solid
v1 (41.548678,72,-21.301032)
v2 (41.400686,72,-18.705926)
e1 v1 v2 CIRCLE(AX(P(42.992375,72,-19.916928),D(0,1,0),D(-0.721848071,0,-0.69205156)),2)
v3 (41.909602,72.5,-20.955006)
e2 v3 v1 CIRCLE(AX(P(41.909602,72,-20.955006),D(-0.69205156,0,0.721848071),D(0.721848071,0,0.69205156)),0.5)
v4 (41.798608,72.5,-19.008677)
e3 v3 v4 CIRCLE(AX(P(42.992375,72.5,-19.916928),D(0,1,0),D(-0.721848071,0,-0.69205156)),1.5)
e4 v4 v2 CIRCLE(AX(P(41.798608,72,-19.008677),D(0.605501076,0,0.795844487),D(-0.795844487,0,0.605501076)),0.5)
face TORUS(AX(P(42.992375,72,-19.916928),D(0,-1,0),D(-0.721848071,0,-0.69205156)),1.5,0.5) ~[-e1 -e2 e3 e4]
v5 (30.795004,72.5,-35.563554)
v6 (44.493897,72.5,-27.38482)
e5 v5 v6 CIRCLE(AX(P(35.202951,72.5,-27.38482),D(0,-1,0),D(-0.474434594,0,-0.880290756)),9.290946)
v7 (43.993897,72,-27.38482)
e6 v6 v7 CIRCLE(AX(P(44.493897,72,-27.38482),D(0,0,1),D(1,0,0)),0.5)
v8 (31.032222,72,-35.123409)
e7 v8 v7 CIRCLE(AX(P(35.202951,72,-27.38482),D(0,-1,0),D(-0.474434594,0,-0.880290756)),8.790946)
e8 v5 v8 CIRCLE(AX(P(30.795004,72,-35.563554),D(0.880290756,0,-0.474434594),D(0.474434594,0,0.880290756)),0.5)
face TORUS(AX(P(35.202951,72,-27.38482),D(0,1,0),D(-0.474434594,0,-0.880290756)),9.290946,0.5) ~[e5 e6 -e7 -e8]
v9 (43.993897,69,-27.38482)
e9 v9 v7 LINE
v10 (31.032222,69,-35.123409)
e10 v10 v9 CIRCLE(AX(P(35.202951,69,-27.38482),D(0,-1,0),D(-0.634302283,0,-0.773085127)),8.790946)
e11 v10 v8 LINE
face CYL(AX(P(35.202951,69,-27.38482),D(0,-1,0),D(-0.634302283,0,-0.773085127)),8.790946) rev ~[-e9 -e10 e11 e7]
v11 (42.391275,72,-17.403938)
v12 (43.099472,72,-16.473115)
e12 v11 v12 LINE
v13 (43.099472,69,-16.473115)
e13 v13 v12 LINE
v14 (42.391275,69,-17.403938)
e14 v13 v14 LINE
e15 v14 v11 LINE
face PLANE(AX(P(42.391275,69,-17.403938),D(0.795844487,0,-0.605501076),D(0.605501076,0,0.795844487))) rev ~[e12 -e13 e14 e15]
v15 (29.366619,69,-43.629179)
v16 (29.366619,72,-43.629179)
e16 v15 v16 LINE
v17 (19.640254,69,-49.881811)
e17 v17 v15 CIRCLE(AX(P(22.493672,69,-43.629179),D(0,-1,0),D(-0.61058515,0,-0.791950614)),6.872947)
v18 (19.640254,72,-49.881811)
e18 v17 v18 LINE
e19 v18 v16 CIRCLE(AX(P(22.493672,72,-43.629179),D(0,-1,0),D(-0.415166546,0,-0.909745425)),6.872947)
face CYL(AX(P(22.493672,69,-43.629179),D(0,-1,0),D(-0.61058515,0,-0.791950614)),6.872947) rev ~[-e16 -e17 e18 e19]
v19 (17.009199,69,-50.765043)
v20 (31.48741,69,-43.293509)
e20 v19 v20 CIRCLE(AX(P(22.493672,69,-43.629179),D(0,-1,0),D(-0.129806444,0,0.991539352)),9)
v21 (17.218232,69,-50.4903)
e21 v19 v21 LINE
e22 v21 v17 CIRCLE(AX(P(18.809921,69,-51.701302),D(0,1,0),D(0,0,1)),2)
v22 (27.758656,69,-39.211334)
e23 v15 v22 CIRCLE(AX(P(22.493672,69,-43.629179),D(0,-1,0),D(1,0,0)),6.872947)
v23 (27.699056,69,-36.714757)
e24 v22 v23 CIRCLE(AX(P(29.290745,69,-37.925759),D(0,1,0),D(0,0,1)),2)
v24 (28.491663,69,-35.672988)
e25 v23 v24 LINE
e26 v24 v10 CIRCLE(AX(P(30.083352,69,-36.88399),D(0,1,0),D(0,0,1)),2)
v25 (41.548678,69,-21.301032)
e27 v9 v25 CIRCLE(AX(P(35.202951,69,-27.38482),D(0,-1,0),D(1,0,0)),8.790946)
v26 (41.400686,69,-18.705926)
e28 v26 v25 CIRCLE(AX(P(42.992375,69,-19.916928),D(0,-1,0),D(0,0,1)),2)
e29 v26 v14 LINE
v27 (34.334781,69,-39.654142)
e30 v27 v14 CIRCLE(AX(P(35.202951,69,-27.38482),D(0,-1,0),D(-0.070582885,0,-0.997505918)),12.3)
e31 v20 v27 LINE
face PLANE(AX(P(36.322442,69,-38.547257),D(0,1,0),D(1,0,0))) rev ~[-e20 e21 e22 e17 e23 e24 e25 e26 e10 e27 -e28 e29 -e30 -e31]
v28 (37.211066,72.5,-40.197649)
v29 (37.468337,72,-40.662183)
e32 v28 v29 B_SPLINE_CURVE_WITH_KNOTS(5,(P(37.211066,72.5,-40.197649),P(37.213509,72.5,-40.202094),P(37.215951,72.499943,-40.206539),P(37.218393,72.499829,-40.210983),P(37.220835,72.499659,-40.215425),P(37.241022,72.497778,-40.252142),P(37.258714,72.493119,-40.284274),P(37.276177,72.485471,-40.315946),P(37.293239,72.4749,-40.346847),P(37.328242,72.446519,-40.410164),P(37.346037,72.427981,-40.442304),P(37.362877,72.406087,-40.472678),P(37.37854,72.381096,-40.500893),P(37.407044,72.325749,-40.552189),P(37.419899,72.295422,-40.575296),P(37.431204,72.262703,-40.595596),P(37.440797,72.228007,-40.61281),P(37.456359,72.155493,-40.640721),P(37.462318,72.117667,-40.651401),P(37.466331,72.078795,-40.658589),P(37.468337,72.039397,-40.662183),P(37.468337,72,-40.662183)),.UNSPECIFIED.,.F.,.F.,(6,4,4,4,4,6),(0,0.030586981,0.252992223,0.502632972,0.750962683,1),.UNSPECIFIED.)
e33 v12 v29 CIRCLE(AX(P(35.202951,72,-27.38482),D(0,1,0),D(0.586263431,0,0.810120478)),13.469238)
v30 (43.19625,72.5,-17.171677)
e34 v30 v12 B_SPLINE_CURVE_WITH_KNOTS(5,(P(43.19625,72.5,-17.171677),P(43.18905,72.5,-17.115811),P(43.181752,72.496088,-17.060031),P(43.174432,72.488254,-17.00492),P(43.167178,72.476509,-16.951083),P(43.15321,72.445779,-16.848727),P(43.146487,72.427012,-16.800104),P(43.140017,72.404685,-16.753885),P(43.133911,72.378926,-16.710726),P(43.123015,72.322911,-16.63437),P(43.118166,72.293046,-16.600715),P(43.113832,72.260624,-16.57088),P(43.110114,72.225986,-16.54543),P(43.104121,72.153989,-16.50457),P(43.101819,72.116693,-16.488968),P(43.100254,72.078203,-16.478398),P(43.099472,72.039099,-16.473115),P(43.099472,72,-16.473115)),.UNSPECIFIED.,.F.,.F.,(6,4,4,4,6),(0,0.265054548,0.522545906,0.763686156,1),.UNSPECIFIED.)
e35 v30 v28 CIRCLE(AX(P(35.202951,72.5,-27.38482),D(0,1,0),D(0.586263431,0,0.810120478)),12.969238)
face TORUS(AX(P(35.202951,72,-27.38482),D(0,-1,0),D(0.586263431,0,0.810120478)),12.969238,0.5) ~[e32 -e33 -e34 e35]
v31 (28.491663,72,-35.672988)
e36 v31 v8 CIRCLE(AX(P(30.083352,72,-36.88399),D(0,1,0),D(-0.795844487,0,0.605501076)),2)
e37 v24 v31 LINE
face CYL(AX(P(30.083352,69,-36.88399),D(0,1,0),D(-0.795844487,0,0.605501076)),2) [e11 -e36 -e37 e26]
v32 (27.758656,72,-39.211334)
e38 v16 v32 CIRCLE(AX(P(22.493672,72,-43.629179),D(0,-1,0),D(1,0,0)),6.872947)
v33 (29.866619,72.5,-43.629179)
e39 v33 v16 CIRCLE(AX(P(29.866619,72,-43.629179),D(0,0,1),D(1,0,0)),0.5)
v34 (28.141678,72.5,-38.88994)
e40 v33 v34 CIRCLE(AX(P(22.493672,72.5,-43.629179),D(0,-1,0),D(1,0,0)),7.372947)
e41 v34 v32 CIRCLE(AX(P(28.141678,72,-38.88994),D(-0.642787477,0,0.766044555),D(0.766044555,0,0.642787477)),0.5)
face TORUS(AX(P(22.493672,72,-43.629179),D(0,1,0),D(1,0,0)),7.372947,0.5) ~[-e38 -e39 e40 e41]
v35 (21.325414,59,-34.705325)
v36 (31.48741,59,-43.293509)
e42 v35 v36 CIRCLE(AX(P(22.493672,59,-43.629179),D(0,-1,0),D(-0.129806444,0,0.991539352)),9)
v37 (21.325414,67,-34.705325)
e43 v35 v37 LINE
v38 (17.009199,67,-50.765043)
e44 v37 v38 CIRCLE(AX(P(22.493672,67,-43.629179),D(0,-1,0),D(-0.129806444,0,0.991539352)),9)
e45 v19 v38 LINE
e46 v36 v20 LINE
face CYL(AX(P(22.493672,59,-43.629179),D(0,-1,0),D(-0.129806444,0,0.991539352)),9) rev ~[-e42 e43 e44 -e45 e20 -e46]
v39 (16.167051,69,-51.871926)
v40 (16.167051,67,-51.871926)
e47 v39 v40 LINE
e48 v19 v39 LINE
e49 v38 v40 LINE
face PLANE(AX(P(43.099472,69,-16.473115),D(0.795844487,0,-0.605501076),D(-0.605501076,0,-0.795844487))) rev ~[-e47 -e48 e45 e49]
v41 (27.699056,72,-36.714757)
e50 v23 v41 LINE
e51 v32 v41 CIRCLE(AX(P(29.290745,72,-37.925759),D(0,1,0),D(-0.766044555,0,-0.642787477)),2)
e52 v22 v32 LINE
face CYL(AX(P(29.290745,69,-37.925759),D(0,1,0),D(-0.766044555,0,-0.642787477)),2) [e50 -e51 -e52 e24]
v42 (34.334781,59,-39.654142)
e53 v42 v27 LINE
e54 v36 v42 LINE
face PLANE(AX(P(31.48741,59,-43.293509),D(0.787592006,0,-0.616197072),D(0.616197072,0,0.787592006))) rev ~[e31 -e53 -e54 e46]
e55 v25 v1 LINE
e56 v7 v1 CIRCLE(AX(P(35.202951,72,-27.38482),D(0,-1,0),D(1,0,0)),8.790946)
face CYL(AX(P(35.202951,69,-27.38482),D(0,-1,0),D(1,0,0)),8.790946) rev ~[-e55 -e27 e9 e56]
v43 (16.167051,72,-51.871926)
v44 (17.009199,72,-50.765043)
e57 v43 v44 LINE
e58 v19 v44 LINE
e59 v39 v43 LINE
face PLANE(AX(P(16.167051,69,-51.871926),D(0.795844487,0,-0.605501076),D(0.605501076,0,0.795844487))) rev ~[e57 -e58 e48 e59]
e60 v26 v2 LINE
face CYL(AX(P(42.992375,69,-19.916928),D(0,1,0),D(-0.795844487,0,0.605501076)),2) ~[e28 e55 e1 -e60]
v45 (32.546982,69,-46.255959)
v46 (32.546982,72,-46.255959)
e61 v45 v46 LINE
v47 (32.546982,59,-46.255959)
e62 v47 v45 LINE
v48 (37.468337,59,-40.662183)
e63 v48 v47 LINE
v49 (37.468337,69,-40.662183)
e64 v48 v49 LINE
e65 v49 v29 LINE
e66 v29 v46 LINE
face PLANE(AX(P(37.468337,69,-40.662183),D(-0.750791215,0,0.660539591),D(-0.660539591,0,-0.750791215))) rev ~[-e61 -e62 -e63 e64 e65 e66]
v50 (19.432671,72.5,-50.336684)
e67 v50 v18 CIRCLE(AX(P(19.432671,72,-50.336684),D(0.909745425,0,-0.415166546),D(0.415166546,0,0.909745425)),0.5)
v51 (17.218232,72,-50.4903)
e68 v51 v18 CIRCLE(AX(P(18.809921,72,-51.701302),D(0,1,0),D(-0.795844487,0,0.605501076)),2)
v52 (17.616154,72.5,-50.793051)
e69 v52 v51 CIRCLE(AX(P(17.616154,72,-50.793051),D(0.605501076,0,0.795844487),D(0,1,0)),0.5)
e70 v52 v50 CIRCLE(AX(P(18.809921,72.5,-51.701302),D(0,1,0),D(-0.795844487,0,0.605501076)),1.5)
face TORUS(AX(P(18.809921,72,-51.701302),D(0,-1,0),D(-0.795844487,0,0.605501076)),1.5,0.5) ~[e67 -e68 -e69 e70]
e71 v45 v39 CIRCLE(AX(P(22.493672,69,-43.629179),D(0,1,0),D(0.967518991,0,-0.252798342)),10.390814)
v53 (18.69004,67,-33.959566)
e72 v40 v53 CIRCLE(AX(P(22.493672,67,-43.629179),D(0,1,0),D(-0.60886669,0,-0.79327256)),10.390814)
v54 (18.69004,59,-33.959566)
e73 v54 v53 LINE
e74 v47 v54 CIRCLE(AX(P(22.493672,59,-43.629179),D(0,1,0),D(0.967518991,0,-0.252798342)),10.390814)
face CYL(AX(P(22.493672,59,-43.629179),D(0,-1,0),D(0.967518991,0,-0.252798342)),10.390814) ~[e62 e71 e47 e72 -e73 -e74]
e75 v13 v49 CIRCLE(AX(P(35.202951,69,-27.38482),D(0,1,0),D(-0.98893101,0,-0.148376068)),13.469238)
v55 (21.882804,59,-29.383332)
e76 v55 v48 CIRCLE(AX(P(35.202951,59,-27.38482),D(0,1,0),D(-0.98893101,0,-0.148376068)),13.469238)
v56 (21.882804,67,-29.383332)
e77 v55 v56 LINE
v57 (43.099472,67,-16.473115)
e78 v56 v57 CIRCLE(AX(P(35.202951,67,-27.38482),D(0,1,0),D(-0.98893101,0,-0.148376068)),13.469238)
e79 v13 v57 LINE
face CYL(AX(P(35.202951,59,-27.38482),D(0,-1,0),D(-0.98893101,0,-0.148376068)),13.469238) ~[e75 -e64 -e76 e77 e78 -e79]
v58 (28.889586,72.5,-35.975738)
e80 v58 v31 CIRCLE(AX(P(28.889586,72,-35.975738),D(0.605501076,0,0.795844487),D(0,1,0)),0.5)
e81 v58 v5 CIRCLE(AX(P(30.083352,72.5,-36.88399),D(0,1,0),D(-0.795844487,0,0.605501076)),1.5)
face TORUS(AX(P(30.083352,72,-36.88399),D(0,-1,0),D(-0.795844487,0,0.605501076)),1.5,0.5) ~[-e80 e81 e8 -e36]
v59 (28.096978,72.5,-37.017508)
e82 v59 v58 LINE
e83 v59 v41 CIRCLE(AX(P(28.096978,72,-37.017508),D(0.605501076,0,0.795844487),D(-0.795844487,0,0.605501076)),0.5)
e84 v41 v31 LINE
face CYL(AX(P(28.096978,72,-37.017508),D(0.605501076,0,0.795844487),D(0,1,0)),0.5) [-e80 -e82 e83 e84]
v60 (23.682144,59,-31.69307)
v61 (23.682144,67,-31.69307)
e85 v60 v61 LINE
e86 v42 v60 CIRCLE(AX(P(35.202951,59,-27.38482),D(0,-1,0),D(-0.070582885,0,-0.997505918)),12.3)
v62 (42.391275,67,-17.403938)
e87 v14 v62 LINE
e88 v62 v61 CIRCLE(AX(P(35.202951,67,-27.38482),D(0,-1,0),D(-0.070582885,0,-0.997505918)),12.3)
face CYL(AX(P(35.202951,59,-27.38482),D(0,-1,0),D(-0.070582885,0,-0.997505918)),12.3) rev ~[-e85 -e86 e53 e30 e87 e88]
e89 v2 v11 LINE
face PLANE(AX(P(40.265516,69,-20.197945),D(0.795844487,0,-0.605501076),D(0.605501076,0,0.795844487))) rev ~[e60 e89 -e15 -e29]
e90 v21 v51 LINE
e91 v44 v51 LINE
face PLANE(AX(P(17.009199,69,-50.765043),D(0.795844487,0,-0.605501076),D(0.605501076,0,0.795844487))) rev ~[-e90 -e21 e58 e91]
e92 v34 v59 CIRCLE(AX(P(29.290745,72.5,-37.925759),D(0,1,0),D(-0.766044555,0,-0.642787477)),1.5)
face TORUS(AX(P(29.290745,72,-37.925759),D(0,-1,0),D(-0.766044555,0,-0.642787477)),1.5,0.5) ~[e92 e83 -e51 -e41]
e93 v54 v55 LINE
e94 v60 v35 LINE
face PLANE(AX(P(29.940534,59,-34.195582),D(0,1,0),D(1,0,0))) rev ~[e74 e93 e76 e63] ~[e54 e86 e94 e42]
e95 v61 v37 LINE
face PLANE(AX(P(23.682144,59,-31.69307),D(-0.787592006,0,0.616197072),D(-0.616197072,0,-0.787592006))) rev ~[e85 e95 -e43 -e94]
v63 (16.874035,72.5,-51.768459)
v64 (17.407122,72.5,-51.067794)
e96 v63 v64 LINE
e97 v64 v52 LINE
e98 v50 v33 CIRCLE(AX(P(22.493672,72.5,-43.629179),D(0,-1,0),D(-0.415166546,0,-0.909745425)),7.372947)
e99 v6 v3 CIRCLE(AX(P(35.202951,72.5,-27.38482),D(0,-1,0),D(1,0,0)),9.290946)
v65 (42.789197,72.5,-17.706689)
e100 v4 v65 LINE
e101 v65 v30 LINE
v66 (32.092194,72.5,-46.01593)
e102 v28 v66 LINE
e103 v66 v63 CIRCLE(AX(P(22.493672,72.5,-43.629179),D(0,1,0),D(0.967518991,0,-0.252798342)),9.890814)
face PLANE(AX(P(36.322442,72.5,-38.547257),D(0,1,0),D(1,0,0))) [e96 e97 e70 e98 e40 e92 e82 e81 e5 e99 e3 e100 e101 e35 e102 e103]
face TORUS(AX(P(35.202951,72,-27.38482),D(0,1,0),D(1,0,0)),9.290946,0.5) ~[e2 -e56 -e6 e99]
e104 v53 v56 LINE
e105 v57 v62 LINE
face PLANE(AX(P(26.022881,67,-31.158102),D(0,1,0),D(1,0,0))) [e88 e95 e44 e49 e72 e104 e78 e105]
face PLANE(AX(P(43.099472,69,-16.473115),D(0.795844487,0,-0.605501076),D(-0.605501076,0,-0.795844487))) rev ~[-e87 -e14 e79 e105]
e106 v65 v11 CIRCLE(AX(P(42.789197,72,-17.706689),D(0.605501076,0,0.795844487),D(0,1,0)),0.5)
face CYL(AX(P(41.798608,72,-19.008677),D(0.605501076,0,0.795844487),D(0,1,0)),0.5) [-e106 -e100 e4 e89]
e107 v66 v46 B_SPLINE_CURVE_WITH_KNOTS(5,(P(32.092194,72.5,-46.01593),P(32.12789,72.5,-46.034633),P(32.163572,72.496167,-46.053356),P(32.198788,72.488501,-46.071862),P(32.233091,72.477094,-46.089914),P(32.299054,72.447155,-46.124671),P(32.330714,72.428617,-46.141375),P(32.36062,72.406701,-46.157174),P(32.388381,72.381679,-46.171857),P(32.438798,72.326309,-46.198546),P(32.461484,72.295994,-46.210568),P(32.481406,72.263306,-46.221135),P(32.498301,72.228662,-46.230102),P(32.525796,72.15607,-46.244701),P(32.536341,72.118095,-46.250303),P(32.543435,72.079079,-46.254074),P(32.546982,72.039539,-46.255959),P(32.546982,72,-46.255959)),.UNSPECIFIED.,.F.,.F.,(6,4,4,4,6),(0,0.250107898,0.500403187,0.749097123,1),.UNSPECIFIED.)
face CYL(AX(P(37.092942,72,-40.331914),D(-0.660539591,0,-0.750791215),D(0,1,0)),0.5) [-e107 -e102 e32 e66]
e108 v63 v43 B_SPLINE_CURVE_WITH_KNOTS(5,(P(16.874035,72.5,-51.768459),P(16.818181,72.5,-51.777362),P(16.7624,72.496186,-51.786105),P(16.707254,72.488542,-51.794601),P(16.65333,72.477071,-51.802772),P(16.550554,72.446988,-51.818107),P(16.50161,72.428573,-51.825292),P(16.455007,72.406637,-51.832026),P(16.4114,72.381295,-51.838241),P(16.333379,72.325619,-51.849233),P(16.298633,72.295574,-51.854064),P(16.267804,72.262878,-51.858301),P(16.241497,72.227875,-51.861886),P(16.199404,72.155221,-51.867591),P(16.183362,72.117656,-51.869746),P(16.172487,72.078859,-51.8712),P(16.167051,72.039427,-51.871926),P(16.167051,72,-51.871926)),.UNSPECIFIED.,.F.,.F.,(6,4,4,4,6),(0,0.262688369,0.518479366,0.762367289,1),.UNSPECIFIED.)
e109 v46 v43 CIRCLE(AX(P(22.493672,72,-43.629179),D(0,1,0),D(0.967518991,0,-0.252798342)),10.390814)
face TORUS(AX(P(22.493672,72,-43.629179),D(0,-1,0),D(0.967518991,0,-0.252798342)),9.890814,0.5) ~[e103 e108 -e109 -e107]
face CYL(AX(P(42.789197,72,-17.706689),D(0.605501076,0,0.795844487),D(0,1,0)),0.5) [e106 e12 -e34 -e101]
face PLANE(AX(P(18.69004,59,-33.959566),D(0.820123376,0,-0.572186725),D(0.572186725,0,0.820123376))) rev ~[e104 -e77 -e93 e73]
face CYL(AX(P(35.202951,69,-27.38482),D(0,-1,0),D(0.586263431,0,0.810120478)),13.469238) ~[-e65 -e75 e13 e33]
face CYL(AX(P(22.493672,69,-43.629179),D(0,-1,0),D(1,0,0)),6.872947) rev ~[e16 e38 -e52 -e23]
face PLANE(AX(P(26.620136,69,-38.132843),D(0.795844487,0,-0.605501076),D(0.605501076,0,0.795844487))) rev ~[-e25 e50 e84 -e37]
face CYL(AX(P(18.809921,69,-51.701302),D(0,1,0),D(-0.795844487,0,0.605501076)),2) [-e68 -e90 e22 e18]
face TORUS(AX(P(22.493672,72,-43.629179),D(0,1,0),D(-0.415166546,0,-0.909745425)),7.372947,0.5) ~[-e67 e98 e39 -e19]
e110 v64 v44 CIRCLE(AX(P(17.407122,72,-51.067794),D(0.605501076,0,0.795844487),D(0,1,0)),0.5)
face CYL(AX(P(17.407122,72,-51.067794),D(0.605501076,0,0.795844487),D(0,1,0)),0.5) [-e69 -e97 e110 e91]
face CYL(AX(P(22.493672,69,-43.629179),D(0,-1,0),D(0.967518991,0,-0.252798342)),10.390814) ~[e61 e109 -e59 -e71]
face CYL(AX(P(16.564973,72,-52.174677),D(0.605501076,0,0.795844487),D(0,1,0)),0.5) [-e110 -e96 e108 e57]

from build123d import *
from build123d.topology import SkipClean

# Parameters (mm, degrees)
SKETCH1_R                      = 12.3
SKETCH1_R_2                    = 11.45
SKETCH1_R_3                    = 9
SKETCH1_R_4                    = 8.15
BOSS_EXTRUDE4_DEPTH            = 59
SKETCH1_8_R                    = 5
BOSS_EXTRUDE17_DEPTH           = 10
BOSS_EXTRUDE17_DRAFT           = 1
BOSS_EXTRUDE17_PROFILE_2_DEPTH = 10
BOSS_EXTRUDE17_PROFILE_2_DRAFT = 1
BOSS_EXTRUDE19_DEPTH           = 59
SKETCH17_R                     = 11.45
SKETCH17_R_2                   = 8.15
BOSS_EXTRUDE20_DEPTH           = 3
SKETCH19_R                     = 3.2
CUT_EXTRUDE5_DEPTH             = 10
BOSS_EXTRUDE21_DEPTH           = 10
CUT_EXTRUDE8_DEPTH             = 66
CUT_EXTRUDE9_DEPTH             = 2
BOSS_EXTRUDE24_DEPTH           = 3.5
FILLET1_R                      = 2
FILLET2_R                      = 0.5


with BuildPart() as part:
    # Sketch1 → Boss-Extrude4 (new body)
    # profile 1 of 2: a face of its own
    with BuildSketch(Plane(origin=(0, 0, 0), x_dir=(1, 0, 0), z_dir=(0, 1, 0))):
        with Locations((35.202950653, 27.384819692)):
            Circle(SKETCH1_R)
        with Locations(Location((35.202950653, 27.384819692, 0), (0, 0, 270))):
            Circle(SKETCH1_R_2, mode=Mode.SUBTRACT)
    # profile 2 of 2: a face of its own
    with BuildSketch(Plane(origin=(0, 0, 0), x_dir=(1, 0, 0), z_dir=(0, 1, 0))):
        with Locations((22.493671705, 43.629178782)):
            Circle(SKETCH1_R_3)
        with Locations(Location((22.493671705, 43.629178782, 0), (0, 0, 270))):
            Circle(SKETCH1_R_4, mode=Mode.SUBTRACT)
    extrude(amount=BOSS_EXTRUDE4_DEPTH)

    # Sketch12 → Boss-Extrude19 (add)
    with SkipClean():  # the faces are left unmerged after this step: merging them gives an invalid solid
        with BuildSketch(Plane(origin=(0, 0, 0), x_dir=(-1, 0, 0), z_dir=(0, -1, 0))):
            with BuildLine():
                Line((-34.977539895, 38.8326007), (-30.605091655, 44.421243424))
                ThreePointArc((-30.605091655, 44.421243424), (-27.821958355, 37.462181021), (-20.532623065, 35.718629608))
                Line((-20.532623065, 35.718629608), (-24.304935413, 30.897050301))
                ThreePointArc((-24.304935413, 30.897050301), (-28.370974986, 36.573215009), (-34.977539895, 38.8326007))
            make_face()
        extrude(amount=-BOSS_EXTRUDE19_DEPTH)



with BuildPart() as body_2:
    # Sketch1<8> → Boss-Extrude17 (with draft: the straight prism first)
    with BuildSketch(Plane(origin=(0, 0, 0), x_dir=(1, 0, 0), z_dir=(0, 1, 0))):
        with Locations((22.493671705, 43.629178782)):
            Circle(SKETCH1_8_R)
    extrude(amount=BOSS_EXTRUDE17_DEPTH)
    # Boss-Extrude17: the draft: its side faces are tilted about the plane it starts from
    boss_extrude17_sides = [body_2.faces().sort_by_distance(p)[0] for p in [
        (17.493671705, 5, -43.629178782),
    ]]
    draft(boss_extrude17_sides, Plane(origin=(0, 0, 0), x_dir=(1, 0, 0), z_dir=(0, 1, 0)), BOSS_EXTRUDE17_DRAFT)


with BuildPart() as body_3:
    # Sketch1<8> → Boss-Extrude17 profile 2 (with draft: the straight prism first)
    with BuildSketch(Plane(origin=(0, 0, 0), x_dir=(1, 0, 0), z_dir=(0, 1, 0))):
        with Locations((35.202950653, 27.384819692)):
            Circle(SKETCH1_8_R)
    extrude(amount=BOSS_EXTRUDE17_PROFILE_2_DEPTH)
    # Boss-Extrude17 profile 2: the draft: its side faces are tilted about the plane it starts from
    boss_extrude17_profile_2_sides = [body_3.faces().sort_by_distance(p)[0] for p in [
        (30.202950653, 5, -27.384819692),
    ]]
    draft(boss_extrude17_profile_2_sides, Plane(origin=(0, 0, 0), x_dir=(1, 0, 0), z_dir=(0, 1, 0)), BOSS_EXTRUDE17_PROFILE_2_DRAFT)


with BuildPart() as part_1:
    with SkipClean():  # the faces are left unmerged after this step: merging them gives an invalid solid
        add(part.part)

        add(body_2.part)  # Boss-Extrude20 merges body 2

        add(body_3.part)  # Boss-Extrude20 merges body 3
        # Sketch17 → Boss-Extrude20 (add)
        with BuildSketch(Plane.XZ):
            with Locations(Location((35.202950653, -27.384819692, 0), (0, 0, 270))):
                Circle(SKETCH17_R)
            with Locations(Location((22.493671705, -43.629178782, 0), (0, 0, 270))):
                Circle(SKETCH17_R_2)
        extrude(amount=-BOSS_EXTRUDE20_DEPTH)

    # Sketch19 → Cut-Extrude5 (cut)
    with SkipClean():  # the faces are left unmerged after this step: merging them gives an invalid solid
        with BuildSketch(Plane(origin=(0, 0, 0), x_dir=(-1, 0, 0), z_dir=(0, -1, 0))):
            with Locations(Location((-35.202950653, 27.384819692, 0), (0, 0, 90))):
                Circle(SKETCH19_R)
            with Locations(Location((-22.493671705, 43.629178782, 0), (0, 0, 90))):
                Circle(SKETCH19_R)
        extrude(amount=-CUT_EXTRUDE5_DEPTH, mode=Mode.SUBTRACT)

    # Sketch35 → Cut-Extrude8 (cut)
    with BuildSketch(Plane.XZ):
        with BuildLine():
            Line((21.325413706, -34.705324611), (23.682144413, -31.693070334))
            ThreePointArc((23.682144413, -31.693070334), (42.566125739, -17.532223454), (34.334781161, -39.654142483))
            Line((34.334781161, -39.654142483), (31.487409842, -43.293508835))
            ThreePointArc((31.487409842, -43.293508835), (16.684303244, -50.503132381), (21.325413706, -34.705324611))
        make_face()
    extrude(amount=-CUT_EXTRUDE8_DEPTH, mode=Mode.SUBTRACT)


with BuildPart() as body_2_2:
    # Sketch23 → Boss-Extrude21 (new body)
    with BuildSketch(Plane(origin=(0, 59, 0), x_dir=(1, 0, 0), z_dir=(0, 1, 0))):
        with BuildLine():
            Line((37.468337272, 40.662183298), (32.546981676, 46.25595936))
            ThreePointArc((32.546981676, 46.25595936), (15.596937819, 51.401184911), (18.690039782, 33.959566495))
            Line((18.690039782, 33.959566495), (21.882803933, 29.3833322))
            ThreePointArc((21.882803933, 29.3833322), (43.099472085, 16.473114504), (37.468337272, 40.662183298))
        make_face()
        with BuildLine():
            ThreePointArc((21.325413706, 34.705324611), (16.684303244, 50.503132381), (31.487409842, 43.293508835))
            Line((31.487409842, 43.293508835), (34.334781161, 39.654142483))
            ThreePointArc((34.334781161, 39.654142483), (42.566125739, 17.532223454), (23.682144413, 31.693070334))
            Line((23.682144413, 31.693070334), (21.325413706, 34.705324611))
        make_face(mode=Mode.SUBTRACT)
    extrude(amount=BOSS_EXTRUDE21_DEPTH)

    # Sketch36 → Cut-Extrude9 (cut)
    with BuildSketch(Plane(origin=(0, 69, 0), x_dir=(1, 0, 0), z_dir=(0, 1, 0))):
        with BuildLine():
            Line((43.099472085, 16.473114504), (16.167051125, 51.87192648))
            ThreePointArc((16.167051125, 51.87192648), (12.204421781, 42.179919116), (18.690039782, 33.959566495))
            Line((18.690039782, 33.959566495), (21.882803933, 29.3833322))
            ThreePointArc((21.882803933, 29.3833322), (28.201353831, 15.878386587), (43.099472085, 16.473114504))
        make_face()
    extrude(amount=-CUT_EXTRUDE9_DEPTH, mode=Mode.SUBTRACT)

    # Sketch37 → Boss-Extrude24 (add)
    with BuildSketch(Plane(origin=(0, 69, 0), x_dir=(1, 0, 0), z_dir=(0, 1, 0))):
        with BuildLine():
            ThreePointArc((34.334781161, 39.654142483), (46.768156488, 31.572422107), (42.391274941, 17.403938272))
            Line((42.391274941, 17.403938272), (43.099472085, 16.473114504))
            ThreePointArc((43.099472085, 16.473114504), (48.321405443, 30.438752363), (37.468337272, 40.662183298))
            Line((37.468337272, 40.662183298), (32.546981676, 46.25595936))
            ThreePointArc((32.546981676, 46.25595936), (25.863660596, 53.45832892), (16.167051125, 51.87192648))
            Line((16.167051125, 51.87192648), (17.009199279, 50.765043285))
            ThreePointArc((17.009199279, 50.765043285), (26.620982357, 51.627010161), (31.487409842, 43.293508835))
            Line((31.487409842, 43.293508835), (34.334781161, 39.654142483))
        make_face()
        with BuildLine():
            Line((40.265515658, 20.197944547), (42.391274941, 17.403938272))
            ThreePointArc((42.391274941, 17.403938272), (46.768156488, 31.572422107), (34.334781161, 39.654142483))
            Line((34.334781161, 39.654142483), (31.487409842, 43.293508835))
            ThreePointArc((31.487409842, 43.293508835), (26.620982357, 51.627010161), (17.009199279, 50.765043285))
            Line((17.009199279, 50.765043285), (18.297152058, 49.072213728))
            ThreePointArc((18.297152058, 49.072213728), (25.526405421, 49.79683091), (29.366619149, 43.629178782))
            ThreePointArc((29.366619149, 43.629178782), (28.641776112, 40.557010367), (26.620135535, 38.132843382))
            Line((26.620135535, 38.132843382), (29.626833273, 34.180969615))
            ThreePointArc((29.626833273, 34.180969615), (38.962032304, 35.331519884), (43.993897063, 27.384819692))
            ThreePointArc((43.993897063, 27.384819692), (43.006330576, 23.336610142), (40.265515658, 20.197944547))
        make_face()
    extrude(amount=BOSS_EXTRUDE24_DEPTH)

    # Fillet1
    fillet1_edges = [body_2_2.edges().sort_by_distance(p)[0] for p in [
        (29.626833273, 70.75, -34.180969615),
        (40.265515658, 70.75, -20.197944547),
        (18.297152058, 70.75, -49.072213728),
        (26.620135535, 70.75, -38.132843382),
    ]]
    fillet(fillet1_edges, radius=FILLET1_R)

    # Fillet2
    fillet2_edges = [body_2_2.edges().sort_by_distance(p)[0] for p in [
        (42.199176887, 72.5, -32.707747202),
        (27.963469036, 72.5, -47.790755853),
        (28.095359601, 72.5, -36.193872526),
        (18.322601236, 72.5, -49.761580581),
        (27.291314439, 72.5, -37.973490947),
        (29.660488695, 72.5, -34.92920458),
        (40.995618754, 72.5, -20.030798741),
        (48.321405443, 72.5, -30.438752363),
        (35.007659474, 72.5, -43.459071329),
        (25.863660596, 72.5, -53.45832892),
        (16.692641456, 72.5, -51.181113228),
        (42.25007881, 72.5, -17.589520374),
    ]]
    fillet(fillet2_edges, radius=FILLET2_R)


solid = body_2_2.part
